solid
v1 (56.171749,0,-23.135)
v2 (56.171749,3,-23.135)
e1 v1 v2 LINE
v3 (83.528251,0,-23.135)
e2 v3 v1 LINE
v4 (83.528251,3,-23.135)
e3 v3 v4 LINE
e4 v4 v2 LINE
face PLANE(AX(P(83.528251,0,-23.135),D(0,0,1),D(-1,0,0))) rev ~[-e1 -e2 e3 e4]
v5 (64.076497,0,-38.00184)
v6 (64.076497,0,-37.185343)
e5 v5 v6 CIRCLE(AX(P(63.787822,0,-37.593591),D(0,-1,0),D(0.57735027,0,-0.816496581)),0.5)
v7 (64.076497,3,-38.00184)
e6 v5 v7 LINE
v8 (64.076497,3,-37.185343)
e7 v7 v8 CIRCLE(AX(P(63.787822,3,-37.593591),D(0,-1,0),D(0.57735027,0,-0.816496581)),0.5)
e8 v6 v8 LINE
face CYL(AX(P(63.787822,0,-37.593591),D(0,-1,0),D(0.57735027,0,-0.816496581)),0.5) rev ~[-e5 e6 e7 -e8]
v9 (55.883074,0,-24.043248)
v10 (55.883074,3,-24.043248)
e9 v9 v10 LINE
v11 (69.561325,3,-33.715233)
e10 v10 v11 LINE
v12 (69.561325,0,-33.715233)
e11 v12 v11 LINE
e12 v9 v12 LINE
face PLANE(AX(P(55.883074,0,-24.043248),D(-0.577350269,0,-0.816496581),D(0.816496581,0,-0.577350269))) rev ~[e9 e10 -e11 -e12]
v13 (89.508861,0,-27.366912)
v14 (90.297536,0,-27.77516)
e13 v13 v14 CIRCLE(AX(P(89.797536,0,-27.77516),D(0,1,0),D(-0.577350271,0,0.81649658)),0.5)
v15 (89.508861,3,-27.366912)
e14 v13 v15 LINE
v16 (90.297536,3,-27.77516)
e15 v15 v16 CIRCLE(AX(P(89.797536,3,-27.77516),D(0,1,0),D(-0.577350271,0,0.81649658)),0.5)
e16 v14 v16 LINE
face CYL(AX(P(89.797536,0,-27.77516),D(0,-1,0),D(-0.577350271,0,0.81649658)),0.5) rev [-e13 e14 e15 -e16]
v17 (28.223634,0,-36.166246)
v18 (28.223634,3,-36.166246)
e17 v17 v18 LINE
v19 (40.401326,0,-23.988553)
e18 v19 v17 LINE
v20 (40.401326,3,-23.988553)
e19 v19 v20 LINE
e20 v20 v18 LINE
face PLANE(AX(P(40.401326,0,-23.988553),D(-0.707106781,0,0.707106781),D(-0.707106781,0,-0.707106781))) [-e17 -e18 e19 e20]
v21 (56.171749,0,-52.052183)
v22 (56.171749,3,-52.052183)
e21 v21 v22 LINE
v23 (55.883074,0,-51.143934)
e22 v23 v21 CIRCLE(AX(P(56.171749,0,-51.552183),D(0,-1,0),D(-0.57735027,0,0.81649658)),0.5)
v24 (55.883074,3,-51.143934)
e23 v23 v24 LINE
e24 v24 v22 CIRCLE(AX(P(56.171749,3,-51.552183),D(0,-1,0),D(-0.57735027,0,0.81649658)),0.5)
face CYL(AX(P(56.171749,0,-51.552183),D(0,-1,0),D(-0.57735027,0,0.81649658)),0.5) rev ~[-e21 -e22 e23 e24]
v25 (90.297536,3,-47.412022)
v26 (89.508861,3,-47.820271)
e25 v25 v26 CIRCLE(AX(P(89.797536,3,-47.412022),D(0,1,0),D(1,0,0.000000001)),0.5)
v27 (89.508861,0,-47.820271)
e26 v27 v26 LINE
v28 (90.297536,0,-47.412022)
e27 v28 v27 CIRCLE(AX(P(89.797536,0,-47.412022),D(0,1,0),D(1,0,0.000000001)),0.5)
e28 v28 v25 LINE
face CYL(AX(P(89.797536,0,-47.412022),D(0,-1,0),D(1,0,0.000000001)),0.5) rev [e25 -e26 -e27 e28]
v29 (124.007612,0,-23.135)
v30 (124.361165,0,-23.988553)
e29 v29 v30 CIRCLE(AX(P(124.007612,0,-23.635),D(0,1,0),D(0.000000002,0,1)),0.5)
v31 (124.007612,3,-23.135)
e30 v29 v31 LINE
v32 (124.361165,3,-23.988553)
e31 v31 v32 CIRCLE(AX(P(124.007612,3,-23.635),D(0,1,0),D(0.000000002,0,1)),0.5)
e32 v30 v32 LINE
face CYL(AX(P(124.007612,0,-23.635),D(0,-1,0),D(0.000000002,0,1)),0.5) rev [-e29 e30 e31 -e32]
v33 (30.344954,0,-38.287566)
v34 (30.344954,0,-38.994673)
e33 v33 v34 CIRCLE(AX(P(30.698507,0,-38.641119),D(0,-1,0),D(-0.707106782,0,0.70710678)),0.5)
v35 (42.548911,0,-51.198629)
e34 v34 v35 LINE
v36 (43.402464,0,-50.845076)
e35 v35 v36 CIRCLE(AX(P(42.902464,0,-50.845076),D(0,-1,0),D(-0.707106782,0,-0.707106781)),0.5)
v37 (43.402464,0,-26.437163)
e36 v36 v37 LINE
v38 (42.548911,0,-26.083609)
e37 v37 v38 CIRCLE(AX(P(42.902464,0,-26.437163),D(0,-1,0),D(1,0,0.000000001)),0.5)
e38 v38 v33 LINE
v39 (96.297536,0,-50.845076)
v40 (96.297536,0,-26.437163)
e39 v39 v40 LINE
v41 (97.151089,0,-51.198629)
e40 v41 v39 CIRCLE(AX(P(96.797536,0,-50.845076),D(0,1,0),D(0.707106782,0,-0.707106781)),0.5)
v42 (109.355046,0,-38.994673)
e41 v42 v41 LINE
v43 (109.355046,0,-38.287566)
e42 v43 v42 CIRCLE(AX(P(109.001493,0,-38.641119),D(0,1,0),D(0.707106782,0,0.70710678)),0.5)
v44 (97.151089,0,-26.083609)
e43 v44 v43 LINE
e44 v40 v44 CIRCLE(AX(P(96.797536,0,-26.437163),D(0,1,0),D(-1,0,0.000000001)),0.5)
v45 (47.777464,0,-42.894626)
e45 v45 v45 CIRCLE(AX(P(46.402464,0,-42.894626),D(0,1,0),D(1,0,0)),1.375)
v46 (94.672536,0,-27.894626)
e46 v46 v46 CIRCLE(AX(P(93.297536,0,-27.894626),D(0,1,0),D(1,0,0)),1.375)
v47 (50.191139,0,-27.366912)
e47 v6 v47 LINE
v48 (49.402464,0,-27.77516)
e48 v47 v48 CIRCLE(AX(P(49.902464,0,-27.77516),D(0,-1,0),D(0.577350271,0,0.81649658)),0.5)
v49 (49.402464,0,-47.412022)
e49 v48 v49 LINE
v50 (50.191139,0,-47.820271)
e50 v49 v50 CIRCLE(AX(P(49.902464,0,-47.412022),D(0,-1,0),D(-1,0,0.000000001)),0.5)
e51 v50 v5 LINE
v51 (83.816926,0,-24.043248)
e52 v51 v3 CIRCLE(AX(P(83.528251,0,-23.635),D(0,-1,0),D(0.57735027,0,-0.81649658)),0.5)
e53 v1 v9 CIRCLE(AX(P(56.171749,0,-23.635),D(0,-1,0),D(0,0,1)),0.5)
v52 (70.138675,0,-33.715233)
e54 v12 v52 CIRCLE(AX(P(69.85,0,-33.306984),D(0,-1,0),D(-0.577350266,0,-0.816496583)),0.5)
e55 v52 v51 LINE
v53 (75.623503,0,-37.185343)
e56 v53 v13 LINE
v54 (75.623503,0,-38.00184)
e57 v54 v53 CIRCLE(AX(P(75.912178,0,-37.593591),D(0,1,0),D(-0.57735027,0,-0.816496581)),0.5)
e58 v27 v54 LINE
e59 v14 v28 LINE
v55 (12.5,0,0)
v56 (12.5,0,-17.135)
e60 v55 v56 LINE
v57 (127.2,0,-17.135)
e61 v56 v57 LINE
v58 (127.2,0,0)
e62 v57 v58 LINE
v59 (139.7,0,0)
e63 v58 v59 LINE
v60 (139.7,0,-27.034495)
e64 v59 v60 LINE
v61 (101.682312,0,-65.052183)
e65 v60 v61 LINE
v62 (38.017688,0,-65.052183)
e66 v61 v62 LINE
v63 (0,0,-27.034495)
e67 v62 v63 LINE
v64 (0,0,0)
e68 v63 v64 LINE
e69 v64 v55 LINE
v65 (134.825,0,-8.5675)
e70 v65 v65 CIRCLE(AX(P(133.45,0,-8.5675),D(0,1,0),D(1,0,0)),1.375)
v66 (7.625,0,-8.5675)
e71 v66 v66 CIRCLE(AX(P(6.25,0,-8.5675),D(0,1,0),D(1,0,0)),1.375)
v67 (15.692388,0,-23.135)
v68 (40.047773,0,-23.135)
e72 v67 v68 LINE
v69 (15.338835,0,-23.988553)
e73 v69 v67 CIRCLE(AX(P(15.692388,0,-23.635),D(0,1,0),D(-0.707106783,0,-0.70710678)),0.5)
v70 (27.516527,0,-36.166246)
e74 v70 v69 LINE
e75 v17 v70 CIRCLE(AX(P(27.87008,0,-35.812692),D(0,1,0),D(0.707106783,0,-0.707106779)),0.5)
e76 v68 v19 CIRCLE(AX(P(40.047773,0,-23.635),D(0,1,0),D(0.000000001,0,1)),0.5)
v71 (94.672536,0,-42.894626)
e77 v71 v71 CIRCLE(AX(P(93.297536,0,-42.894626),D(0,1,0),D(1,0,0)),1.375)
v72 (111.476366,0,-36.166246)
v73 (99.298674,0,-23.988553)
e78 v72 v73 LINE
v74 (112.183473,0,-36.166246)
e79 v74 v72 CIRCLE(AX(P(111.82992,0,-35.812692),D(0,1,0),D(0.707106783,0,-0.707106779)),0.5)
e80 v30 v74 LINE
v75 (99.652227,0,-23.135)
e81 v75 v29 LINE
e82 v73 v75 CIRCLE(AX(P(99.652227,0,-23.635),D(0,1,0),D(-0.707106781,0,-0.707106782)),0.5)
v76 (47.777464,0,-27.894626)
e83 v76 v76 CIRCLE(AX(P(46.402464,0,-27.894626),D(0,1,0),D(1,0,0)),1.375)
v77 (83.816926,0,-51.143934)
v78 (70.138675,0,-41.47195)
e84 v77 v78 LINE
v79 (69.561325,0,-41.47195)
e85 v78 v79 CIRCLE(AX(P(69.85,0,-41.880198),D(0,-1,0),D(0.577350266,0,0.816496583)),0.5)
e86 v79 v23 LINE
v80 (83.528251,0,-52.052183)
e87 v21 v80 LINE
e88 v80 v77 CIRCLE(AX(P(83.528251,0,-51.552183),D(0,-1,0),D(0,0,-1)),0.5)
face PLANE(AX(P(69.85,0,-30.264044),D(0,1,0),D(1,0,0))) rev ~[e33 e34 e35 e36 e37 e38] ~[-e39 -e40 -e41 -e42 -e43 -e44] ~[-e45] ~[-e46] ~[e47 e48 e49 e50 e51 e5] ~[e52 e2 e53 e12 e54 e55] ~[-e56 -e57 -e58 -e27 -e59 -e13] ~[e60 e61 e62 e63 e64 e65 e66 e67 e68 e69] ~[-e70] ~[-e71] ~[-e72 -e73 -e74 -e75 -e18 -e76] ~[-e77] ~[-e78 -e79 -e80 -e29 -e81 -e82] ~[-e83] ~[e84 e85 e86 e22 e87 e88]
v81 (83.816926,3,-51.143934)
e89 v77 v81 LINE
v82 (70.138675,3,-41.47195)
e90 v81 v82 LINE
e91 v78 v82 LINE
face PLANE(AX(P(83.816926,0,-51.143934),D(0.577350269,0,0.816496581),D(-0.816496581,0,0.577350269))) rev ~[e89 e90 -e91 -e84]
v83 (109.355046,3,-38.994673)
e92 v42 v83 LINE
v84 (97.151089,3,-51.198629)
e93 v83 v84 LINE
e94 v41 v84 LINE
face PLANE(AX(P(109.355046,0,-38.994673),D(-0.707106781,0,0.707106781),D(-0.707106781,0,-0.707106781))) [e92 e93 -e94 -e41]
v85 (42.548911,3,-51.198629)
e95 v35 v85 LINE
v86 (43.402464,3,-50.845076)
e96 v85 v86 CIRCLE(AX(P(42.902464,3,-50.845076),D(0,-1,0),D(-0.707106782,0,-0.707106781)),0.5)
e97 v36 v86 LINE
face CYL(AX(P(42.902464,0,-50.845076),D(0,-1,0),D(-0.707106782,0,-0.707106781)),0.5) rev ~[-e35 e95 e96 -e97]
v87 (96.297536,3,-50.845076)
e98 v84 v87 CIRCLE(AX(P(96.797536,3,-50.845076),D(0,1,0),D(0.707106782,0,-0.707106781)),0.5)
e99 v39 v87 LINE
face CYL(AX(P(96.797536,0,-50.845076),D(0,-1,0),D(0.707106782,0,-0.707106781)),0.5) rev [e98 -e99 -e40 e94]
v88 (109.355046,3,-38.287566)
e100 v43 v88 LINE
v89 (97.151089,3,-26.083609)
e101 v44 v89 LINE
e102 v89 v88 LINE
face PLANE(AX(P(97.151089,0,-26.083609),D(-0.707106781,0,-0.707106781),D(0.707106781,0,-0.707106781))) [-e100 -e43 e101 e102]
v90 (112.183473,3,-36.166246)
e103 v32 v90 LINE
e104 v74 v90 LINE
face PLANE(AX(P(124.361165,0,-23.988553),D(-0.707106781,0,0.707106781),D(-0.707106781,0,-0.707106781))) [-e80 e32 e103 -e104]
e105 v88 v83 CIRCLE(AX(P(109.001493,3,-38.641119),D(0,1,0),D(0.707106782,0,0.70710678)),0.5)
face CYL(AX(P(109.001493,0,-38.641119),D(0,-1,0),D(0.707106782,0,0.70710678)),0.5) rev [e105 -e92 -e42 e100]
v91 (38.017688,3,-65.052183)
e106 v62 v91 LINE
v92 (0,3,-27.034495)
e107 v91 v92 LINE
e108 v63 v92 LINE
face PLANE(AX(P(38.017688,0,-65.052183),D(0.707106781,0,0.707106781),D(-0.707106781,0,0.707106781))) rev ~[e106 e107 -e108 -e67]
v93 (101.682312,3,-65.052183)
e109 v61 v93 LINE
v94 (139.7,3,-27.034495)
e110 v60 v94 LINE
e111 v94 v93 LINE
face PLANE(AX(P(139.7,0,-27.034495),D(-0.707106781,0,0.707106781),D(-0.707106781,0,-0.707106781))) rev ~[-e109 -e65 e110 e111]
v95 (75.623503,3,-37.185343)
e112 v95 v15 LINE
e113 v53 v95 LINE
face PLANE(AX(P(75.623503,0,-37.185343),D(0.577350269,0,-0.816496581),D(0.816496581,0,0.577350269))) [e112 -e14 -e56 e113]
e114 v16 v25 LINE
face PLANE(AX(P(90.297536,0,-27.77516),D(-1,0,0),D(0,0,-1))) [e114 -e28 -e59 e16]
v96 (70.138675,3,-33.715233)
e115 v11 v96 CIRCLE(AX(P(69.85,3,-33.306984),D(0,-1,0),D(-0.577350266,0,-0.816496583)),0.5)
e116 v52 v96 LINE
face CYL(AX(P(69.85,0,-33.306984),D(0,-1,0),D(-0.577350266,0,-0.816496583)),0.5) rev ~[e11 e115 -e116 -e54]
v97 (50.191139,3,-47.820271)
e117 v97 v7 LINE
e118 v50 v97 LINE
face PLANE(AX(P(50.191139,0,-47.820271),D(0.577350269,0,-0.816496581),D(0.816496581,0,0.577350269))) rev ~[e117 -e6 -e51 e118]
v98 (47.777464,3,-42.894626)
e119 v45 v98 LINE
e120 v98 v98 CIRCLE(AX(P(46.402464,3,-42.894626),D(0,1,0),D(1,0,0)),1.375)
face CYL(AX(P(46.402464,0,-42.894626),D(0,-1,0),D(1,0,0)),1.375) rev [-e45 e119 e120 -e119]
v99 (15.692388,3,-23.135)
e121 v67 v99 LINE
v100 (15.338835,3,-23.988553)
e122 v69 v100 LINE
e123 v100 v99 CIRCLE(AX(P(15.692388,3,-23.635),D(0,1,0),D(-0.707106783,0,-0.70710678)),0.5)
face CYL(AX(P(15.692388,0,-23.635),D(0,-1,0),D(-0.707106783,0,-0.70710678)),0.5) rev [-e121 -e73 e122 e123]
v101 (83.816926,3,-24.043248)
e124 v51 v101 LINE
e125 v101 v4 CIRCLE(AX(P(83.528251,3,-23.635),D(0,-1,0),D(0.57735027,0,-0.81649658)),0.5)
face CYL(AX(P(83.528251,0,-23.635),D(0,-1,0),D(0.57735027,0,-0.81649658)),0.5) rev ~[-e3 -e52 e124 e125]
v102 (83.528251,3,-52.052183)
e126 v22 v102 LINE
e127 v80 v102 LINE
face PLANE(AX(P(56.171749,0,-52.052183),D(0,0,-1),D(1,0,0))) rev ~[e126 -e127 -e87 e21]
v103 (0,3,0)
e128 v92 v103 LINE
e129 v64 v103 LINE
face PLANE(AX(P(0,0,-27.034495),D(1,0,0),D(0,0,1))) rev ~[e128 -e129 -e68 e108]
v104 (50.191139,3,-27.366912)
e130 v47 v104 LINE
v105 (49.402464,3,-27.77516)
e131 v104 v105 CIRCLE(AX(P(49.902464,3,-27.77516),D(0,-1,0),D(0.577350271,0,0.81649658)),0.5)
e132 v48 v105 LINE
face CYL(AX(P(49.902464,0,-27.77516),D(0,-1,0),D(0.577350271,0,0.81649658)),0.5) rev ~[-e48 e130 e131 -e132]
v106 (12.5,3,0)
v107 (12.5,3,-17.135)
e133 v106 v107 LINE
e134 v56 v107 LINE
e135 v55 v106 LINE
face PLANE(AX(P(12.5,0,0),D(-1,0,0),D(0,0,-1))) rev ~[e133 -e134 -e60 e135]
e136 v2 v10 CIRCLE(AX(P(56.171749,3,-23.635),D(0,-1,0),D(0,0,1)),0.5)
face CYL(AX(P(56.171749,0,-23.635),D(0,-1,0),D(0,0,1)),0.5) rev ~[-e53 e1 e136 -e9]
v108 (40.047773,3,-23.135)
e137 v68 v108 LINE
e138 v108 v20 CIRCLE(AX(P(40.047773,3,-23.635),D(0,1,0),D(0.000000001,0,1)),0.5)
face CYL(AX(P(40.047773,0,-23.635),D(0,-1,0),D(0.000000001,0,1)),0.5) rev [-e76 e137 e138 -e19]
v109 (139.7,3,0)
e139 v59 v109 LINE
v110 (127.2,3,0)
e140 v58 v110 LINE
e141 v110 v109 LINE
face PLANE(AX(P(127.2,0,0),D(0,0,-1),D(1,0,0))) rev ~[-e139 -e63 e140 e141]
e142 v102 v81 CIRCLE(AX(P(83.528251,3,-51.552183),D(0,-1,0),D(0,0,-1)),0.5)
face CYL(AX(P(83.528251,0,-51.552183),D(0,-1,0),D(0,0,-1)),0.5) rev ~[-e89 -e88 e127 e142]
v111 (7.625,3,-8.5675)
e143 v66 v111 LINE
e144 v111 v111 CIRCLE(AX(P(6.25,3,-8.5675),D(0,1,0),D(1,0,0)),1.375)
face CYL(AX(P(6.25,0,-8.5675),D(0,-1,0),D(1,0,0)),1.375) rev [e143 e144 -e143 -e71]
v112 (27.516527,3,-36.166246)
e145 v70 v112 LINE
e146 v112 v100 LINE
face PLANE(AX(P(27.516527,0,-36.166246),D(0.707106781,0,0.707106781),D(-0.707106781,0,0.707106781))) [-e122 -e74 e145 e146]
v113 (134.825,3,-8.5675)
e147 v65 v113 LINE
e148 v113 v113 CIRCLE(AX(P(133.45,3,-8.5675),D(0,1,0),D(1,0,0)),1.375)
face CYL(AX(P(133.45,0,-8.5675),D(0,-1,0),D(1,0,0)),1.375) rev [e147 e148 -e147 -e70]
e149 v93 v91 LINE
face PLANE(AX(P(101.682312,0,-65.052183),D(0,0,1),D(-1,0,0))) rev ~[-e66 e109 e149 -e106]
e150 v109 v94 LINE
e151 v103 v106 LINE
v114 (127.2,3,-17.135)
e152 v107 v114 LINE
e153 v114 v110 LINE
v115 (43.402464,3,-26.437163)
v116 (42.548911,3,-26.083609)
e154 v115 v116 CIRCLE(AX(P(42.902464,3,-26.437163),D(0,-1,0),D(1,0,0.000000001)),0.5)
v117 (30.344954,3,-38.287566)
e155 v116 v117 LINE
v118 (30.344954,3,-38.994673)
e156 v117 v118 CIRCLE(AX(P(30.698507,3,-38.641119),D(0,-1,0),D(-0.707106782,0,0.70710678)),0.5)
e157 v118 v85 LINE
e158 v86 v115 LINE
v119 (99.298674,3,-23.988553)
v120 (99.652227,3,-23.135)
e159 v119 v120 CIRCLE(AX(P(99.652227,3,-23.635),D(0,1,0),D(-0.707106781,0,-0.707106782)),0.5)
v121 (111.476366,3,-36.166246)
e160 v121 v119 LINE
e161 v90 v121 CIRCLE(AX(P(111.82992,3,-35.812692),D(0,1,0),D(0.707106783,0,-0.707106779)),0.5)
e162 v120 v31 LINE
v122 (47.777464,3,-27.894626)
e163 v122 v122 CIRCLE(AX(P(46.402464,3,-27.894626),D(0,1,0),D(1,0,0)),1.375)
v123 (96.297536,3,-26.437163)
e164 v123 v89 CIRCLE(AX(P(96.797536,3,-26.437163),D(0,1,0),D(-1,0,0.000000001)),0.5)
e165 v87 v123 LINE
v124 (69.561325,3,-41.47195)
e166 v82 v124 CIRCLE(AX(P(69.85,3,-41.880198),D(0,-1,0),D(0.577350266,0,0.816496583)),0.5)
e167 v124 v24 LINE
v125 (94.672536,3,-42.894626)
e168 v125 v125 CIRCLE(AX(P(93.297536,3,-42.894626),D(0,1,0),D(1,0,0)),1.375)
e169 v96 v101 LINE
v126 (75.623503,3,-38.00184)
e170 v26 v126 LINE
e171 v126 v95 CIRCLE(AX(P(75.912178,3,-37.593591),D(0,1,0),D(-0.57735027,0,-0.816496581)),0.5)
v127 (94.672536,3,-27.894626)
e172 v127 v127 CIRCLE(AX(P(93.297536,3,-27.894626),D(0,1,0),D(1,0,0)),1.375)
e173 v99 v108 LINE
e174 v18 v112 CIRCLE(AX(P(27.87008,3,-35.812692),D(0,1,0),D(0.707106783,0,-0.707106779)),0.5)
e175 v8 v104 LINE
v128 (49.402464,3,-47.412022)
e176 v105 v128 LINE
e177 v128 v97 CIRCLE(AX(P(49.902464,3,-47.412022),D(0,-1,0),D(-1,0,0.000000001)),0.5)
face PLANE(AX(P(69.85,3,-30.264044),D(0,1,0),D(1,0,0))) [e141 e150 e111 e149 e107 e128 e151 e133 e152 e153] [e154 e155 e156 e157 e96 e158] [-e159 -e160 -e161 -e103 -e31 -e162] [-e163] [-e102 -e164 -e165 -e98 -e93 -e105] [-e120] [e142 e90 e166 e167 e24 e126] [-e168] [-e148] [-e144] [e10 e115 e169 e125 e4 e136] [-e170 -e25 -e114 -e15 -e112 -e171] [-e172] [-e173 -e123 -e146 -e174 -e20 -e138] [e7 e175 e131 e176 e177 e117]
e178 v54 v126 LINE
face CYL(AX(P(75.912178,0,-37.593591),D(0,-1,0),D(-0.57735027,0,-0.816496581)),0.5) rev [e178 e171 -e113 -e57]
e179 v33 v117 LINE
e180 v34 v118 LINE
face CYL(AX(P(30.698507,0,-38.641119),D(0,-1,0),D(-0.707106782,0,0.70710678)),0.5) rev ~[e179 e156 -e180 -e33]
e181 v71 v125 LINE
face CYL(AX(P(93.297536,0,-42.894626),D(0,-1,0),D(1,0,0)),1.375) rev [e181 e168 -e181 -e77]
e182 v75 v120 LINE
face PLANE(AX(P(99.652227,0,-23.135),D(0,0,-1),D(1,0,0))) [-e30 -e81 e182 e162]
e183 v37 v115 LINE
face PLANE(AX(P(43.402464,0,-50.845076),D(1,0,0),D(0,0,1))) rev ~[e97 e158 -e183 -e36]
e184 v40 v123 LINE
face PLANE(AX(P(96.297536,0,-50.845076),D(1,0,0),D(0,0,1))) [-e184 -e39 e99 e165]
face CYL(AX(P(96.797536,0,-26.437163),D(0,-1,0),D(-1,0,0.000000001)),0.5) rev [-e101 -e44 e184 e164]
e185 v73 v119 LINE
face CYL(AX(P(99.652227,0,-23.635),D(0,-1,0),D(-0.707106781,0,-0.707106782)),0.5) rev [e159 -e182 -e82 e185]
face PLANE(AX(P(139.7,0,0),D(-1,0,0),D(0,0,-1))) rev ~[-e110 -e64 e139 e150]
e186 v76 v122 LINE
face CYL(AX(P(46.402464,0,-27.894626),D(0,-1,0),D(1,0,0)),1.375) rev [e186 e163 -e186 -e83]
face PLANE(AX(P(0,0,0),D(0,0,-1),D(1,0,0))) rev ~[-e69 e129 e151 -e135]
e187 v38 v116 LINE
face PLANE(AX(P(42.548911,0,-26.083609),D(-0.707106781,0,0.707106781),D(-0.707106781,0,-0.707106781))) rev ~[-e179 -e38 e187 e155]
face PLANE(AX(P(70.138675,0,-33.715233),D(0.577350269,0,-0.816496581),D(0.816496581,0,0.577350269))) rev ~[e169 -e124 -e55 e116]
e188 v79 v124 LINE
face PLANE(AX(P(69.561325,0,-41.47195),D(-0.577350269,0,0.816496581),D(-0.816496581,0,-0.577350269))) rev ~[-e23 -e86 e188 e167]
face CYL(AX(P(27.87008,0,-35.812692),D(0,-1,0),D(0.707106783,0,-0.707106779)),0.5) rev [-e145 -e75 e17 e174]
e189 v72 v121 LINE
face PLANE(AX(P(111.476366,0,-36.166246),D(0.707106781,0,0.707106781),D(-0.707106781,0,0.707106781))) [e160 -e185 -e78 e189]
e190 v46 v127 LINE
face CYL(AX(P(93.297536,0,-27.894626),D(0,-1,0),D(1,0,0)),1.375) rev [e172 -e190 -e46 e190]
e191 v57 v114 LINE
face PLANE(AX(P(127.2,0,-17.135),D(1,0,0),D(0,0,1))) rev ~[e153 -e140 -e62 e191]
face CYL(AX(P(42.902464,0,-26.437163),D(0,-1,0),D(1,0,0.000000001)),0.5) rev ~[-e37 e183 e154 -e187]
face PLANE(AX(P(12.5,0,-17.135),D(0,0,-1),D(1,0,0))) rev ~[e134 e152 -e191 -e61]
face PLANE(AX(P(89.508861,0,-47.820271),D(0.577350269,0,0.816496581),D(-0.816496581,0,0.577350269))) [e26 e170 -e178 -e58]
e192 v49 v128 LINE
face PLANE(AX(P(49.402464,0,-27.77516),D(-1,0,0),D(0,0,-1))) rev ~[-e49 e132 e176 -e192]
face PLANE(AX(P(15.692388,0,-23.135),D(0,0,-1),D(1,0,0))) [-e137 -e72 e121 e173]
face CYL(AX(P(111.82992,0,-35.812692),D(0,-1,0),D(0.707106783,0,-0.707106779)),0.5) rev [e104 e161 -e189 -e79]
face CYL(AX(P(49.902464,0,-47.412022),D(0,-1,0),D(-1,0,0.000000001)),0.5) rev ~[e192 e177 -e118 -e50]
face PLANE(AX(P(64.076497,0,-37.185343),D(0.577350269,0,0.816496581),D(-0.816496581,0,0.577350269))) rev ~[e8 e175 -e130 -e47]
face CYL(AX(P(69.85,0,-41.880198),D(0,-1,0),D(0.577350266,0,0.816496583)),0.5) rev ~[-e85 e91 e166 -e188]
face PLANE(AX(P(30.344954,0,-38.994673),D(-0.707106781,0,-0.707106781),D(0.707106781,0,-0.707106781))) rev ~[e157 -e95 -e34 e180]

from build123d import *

# Parameters (mm, degrees)
SKETCH1_R           = 1.375
BOSS_EXTRUDE1_DEPTH = 3


with BuildPart() as part:
    # Sketch1 → Boss-Extrude1 (new body)
    with BuildSketch(Plane(origin=(0, 0, 0), x_dir=(1, 0, 0), z_dir=(0, 1, 0))):
        Polygon((12.5, 17.135), (127.2, 17.135), (127.2, 0), (139.7, 0), (139.7, 17.135), (139.7, 27.03449494), (101.68231227, 65.05218267), (38.01768773, 65.05218267), (0, 27.03449494), (0, 17.135), (0, 0), (12.5, 0), align=None)
        with Locations((6.25, 8.5675)):
            Circle(SKETCH1_R, mode=Mode.SUBTRACT)
        with Locations((133.45, 8.5675)):
            Circle(SKETCH1_R, mode=Mode.SUBTRACT)
        with Locations((46.402464035, 27.89462575)):
            Circle(SKETCH1_R, mode=Mode.SUBTRACT)
        with Locations((46.402464035, 42.89462575)):
            Circle(SKETCH1_R, mode=Mode.SUBTRACT)
        with Locations((93.297535965, 27.89462575)):
            Circle(SKETCH1_R, mode=Mode.SUBTRACT)
        with Locations((93.297535965, 42.89462575)):
            Circle(SKETCH1_R, mode=Mode.SUBTRACT)
        with BuildLine():
            Line((55.883073513, 24.04324829), (69.561324865, 33.715232576))
            ThreePointArc((69.561324865, 33.715232576), (69.85, 33.806984285), (70.138675135, 33.715232576))
            Line((70.138675135, 33.715232576), (83.816926487, 24.04324829))
            ThreePointArc((83.816926487, 24.04324829), (84.004761659, 23.483547277), (83.528251352, 23.135))
            Line((83.528251352, 23.135), (56.171748648, 23.135))
            ThreePointArc((56.171748648, 23.135), (55.695238341, 23.483547277), (55.883073513, 24.04324829))
        make_face(mode=Mode.SUBTRACT)
        with BuildLine():
            Line((49.40246404, 27.77516044), (49.40246404, 47.41202223))
            ThreePointArc((49.40246404, 47.41202223), (49.672613618, 47.856059147), (50.191139175, 47.82027052))
            Line((50.191139175, 47.82027052), (64.076497308, 38.001839625))
            ThreePointArc((64.076497308, 38.001839625), (64.287822173, 37.593591335), (64.076497308, 37.185343045))
            Line((64.076497308, 37.185343045), (50.191139175, 27.36691215))
            ThreePointArc((50.191139175, 27.36691215), (49.672613618, 27.331123523), (49.40246404, 27.77516044))
        make_face(mode=Mode.SUBTRACT)
        with BuildLine():
            Line((56.171748648, 52.05218267), (83.528251352, 52.05218267))
            ThreePointArc((83.528251352, 52.05218267), (84.004761659, 51.703635393), (83.816926487, 51.14393438))
            Line((83.816926487, 51.14393438), (70.138675135, 41.471950094))
            ThreePointArc((70.138675135, 41.471950094), (69.85, 41.380198385), (69.561324865, 41.471950094))
            Line((69.561324865, 41.471950094), (55.883073513, 51.14393438))
            ThreePointArc((55.883073513, 51.14393438), (55.695238341, 51.703635393), (56.171748648, 52.05218267))
        make_face(mode=Mode.SUBTRACT)
        with BuildLine():
            Line((90.29753596, 27.77516044), (90.29753596, 47.41202223))
            ThreePointArc((90.29753596, 47.41202223), (90.027386382, 47.856059147), (89.508860825, 47.82027052))
            Line((89.508860825, 47.82027052), (75.623502692, 38.001839625))
            ThreePointArc((75.623502692, 38.001839625), (75.412177827, 37.593591335), (75.623502692, 37.185343045))
            Line((75.623502692, 37.185343045), (89.508860825, 27.36691215))
            ThreePointArc((89.508860825, 27.36691215), (90.027386382, 27.331123523), (90.29753596, 27.77516044))
        make_face(mode=Mode.SUBTRACT)
        with BuildLine():
            Line((15.692388152, 23.135), (40.04777251, 23.135))
            ThreePointArc((40.04777251, 23.135), (40.509712276, 23.443658284), (40.4013259, 23.988553391))
            Line((40.4013259, 23.988553391), (28.223633721, 36.166245569))
            ThreePointArc((28.223633721, 36.166245569), (27.870080331, 36.312692179), (27.51652694, 36.166245569))
            Line((27.51652694, 36.166245569), (15.338834761, 23.988553391))
            ThreePointArc((15.338834761, 23.988553391), (15.230448386, 23.443658284), (15.692388152, 23.135))
        make_face(mode=Mode.SUBTRACT)
        with BuildLine():
            Line((30.344954065, 38.994672694), (42.548910644, 51.198629273))
            ThreePointArc((42.548910644, 51.198629273), (43.093805751, 51.307015649), (43.402464035, 50.845075883))
            Line((43.402464035, 50.845075883), (43.402464035, 26.437162724))
            ThreePointArc((43.402464035, 26.437162724), (43.093805751, 25.975222958), (42.548910644, 26.083609334))
            Line((42.548910644, 26.083609334), (30.344954065, 38.287565913))
            ThreePointArc((30.344954065, 38.287565913), (30.198507456, 38.641119304), (30.344954065, 38.994672694))
        make_face(mode=Mode.SUBTRACT)
        with BuildLine():
            Line((109.355045935, 38.994672694), (97.151089356, 51.198629273))
            ThreePointArc((97.151089356, 51.198629273), (96.606194249, 51.307015649), (96.297535965, 50.845075883))
            Line((96.297535965, 50.845075883), (96.297535965, 26.437162724))
            ThreePointArc((96.297535965, 26.437162724), (96.606194249, 25.975222958), (97.151089356, 26.083609334))
            Line((97.151089356, 26.083609334), (109.355045935, 38.287565913))
            ThreePointArc((109.355045935, 38.287565913), (109.501492544, 38.641119304), (109.355045935, 38.994672694))
        make_face(mode=Mode.SUBTRACT)
        with BuildLine():
            Line((124.361165239, 23.988553391), (112.18347306, 36.166245569))
            ThreePointArc((112.18347306, 36.166245569), (111.829919669, 36.312692179), (111.476366279, 36.166245569))
            Line((111.476366279, 36.166245569), (99.2986741, 23.988553391))
            ThreePointArc((99.2986741, 23.988553391), (99.190287724, 23.443658284), (99.65222749, 23.135))
            Line((99.65222749, 23.135), (124.007611848, 23.135))
            ThreePointArc((124.007611848, 23.135), (124.469551614, 23.443658284), (124.361165239, 23.988553391))
        make_face(mode=Mode.SUBTRACT)
    extrude(amount=BOSS_EXTRUDE1_DEPTH)


solid = part.part
